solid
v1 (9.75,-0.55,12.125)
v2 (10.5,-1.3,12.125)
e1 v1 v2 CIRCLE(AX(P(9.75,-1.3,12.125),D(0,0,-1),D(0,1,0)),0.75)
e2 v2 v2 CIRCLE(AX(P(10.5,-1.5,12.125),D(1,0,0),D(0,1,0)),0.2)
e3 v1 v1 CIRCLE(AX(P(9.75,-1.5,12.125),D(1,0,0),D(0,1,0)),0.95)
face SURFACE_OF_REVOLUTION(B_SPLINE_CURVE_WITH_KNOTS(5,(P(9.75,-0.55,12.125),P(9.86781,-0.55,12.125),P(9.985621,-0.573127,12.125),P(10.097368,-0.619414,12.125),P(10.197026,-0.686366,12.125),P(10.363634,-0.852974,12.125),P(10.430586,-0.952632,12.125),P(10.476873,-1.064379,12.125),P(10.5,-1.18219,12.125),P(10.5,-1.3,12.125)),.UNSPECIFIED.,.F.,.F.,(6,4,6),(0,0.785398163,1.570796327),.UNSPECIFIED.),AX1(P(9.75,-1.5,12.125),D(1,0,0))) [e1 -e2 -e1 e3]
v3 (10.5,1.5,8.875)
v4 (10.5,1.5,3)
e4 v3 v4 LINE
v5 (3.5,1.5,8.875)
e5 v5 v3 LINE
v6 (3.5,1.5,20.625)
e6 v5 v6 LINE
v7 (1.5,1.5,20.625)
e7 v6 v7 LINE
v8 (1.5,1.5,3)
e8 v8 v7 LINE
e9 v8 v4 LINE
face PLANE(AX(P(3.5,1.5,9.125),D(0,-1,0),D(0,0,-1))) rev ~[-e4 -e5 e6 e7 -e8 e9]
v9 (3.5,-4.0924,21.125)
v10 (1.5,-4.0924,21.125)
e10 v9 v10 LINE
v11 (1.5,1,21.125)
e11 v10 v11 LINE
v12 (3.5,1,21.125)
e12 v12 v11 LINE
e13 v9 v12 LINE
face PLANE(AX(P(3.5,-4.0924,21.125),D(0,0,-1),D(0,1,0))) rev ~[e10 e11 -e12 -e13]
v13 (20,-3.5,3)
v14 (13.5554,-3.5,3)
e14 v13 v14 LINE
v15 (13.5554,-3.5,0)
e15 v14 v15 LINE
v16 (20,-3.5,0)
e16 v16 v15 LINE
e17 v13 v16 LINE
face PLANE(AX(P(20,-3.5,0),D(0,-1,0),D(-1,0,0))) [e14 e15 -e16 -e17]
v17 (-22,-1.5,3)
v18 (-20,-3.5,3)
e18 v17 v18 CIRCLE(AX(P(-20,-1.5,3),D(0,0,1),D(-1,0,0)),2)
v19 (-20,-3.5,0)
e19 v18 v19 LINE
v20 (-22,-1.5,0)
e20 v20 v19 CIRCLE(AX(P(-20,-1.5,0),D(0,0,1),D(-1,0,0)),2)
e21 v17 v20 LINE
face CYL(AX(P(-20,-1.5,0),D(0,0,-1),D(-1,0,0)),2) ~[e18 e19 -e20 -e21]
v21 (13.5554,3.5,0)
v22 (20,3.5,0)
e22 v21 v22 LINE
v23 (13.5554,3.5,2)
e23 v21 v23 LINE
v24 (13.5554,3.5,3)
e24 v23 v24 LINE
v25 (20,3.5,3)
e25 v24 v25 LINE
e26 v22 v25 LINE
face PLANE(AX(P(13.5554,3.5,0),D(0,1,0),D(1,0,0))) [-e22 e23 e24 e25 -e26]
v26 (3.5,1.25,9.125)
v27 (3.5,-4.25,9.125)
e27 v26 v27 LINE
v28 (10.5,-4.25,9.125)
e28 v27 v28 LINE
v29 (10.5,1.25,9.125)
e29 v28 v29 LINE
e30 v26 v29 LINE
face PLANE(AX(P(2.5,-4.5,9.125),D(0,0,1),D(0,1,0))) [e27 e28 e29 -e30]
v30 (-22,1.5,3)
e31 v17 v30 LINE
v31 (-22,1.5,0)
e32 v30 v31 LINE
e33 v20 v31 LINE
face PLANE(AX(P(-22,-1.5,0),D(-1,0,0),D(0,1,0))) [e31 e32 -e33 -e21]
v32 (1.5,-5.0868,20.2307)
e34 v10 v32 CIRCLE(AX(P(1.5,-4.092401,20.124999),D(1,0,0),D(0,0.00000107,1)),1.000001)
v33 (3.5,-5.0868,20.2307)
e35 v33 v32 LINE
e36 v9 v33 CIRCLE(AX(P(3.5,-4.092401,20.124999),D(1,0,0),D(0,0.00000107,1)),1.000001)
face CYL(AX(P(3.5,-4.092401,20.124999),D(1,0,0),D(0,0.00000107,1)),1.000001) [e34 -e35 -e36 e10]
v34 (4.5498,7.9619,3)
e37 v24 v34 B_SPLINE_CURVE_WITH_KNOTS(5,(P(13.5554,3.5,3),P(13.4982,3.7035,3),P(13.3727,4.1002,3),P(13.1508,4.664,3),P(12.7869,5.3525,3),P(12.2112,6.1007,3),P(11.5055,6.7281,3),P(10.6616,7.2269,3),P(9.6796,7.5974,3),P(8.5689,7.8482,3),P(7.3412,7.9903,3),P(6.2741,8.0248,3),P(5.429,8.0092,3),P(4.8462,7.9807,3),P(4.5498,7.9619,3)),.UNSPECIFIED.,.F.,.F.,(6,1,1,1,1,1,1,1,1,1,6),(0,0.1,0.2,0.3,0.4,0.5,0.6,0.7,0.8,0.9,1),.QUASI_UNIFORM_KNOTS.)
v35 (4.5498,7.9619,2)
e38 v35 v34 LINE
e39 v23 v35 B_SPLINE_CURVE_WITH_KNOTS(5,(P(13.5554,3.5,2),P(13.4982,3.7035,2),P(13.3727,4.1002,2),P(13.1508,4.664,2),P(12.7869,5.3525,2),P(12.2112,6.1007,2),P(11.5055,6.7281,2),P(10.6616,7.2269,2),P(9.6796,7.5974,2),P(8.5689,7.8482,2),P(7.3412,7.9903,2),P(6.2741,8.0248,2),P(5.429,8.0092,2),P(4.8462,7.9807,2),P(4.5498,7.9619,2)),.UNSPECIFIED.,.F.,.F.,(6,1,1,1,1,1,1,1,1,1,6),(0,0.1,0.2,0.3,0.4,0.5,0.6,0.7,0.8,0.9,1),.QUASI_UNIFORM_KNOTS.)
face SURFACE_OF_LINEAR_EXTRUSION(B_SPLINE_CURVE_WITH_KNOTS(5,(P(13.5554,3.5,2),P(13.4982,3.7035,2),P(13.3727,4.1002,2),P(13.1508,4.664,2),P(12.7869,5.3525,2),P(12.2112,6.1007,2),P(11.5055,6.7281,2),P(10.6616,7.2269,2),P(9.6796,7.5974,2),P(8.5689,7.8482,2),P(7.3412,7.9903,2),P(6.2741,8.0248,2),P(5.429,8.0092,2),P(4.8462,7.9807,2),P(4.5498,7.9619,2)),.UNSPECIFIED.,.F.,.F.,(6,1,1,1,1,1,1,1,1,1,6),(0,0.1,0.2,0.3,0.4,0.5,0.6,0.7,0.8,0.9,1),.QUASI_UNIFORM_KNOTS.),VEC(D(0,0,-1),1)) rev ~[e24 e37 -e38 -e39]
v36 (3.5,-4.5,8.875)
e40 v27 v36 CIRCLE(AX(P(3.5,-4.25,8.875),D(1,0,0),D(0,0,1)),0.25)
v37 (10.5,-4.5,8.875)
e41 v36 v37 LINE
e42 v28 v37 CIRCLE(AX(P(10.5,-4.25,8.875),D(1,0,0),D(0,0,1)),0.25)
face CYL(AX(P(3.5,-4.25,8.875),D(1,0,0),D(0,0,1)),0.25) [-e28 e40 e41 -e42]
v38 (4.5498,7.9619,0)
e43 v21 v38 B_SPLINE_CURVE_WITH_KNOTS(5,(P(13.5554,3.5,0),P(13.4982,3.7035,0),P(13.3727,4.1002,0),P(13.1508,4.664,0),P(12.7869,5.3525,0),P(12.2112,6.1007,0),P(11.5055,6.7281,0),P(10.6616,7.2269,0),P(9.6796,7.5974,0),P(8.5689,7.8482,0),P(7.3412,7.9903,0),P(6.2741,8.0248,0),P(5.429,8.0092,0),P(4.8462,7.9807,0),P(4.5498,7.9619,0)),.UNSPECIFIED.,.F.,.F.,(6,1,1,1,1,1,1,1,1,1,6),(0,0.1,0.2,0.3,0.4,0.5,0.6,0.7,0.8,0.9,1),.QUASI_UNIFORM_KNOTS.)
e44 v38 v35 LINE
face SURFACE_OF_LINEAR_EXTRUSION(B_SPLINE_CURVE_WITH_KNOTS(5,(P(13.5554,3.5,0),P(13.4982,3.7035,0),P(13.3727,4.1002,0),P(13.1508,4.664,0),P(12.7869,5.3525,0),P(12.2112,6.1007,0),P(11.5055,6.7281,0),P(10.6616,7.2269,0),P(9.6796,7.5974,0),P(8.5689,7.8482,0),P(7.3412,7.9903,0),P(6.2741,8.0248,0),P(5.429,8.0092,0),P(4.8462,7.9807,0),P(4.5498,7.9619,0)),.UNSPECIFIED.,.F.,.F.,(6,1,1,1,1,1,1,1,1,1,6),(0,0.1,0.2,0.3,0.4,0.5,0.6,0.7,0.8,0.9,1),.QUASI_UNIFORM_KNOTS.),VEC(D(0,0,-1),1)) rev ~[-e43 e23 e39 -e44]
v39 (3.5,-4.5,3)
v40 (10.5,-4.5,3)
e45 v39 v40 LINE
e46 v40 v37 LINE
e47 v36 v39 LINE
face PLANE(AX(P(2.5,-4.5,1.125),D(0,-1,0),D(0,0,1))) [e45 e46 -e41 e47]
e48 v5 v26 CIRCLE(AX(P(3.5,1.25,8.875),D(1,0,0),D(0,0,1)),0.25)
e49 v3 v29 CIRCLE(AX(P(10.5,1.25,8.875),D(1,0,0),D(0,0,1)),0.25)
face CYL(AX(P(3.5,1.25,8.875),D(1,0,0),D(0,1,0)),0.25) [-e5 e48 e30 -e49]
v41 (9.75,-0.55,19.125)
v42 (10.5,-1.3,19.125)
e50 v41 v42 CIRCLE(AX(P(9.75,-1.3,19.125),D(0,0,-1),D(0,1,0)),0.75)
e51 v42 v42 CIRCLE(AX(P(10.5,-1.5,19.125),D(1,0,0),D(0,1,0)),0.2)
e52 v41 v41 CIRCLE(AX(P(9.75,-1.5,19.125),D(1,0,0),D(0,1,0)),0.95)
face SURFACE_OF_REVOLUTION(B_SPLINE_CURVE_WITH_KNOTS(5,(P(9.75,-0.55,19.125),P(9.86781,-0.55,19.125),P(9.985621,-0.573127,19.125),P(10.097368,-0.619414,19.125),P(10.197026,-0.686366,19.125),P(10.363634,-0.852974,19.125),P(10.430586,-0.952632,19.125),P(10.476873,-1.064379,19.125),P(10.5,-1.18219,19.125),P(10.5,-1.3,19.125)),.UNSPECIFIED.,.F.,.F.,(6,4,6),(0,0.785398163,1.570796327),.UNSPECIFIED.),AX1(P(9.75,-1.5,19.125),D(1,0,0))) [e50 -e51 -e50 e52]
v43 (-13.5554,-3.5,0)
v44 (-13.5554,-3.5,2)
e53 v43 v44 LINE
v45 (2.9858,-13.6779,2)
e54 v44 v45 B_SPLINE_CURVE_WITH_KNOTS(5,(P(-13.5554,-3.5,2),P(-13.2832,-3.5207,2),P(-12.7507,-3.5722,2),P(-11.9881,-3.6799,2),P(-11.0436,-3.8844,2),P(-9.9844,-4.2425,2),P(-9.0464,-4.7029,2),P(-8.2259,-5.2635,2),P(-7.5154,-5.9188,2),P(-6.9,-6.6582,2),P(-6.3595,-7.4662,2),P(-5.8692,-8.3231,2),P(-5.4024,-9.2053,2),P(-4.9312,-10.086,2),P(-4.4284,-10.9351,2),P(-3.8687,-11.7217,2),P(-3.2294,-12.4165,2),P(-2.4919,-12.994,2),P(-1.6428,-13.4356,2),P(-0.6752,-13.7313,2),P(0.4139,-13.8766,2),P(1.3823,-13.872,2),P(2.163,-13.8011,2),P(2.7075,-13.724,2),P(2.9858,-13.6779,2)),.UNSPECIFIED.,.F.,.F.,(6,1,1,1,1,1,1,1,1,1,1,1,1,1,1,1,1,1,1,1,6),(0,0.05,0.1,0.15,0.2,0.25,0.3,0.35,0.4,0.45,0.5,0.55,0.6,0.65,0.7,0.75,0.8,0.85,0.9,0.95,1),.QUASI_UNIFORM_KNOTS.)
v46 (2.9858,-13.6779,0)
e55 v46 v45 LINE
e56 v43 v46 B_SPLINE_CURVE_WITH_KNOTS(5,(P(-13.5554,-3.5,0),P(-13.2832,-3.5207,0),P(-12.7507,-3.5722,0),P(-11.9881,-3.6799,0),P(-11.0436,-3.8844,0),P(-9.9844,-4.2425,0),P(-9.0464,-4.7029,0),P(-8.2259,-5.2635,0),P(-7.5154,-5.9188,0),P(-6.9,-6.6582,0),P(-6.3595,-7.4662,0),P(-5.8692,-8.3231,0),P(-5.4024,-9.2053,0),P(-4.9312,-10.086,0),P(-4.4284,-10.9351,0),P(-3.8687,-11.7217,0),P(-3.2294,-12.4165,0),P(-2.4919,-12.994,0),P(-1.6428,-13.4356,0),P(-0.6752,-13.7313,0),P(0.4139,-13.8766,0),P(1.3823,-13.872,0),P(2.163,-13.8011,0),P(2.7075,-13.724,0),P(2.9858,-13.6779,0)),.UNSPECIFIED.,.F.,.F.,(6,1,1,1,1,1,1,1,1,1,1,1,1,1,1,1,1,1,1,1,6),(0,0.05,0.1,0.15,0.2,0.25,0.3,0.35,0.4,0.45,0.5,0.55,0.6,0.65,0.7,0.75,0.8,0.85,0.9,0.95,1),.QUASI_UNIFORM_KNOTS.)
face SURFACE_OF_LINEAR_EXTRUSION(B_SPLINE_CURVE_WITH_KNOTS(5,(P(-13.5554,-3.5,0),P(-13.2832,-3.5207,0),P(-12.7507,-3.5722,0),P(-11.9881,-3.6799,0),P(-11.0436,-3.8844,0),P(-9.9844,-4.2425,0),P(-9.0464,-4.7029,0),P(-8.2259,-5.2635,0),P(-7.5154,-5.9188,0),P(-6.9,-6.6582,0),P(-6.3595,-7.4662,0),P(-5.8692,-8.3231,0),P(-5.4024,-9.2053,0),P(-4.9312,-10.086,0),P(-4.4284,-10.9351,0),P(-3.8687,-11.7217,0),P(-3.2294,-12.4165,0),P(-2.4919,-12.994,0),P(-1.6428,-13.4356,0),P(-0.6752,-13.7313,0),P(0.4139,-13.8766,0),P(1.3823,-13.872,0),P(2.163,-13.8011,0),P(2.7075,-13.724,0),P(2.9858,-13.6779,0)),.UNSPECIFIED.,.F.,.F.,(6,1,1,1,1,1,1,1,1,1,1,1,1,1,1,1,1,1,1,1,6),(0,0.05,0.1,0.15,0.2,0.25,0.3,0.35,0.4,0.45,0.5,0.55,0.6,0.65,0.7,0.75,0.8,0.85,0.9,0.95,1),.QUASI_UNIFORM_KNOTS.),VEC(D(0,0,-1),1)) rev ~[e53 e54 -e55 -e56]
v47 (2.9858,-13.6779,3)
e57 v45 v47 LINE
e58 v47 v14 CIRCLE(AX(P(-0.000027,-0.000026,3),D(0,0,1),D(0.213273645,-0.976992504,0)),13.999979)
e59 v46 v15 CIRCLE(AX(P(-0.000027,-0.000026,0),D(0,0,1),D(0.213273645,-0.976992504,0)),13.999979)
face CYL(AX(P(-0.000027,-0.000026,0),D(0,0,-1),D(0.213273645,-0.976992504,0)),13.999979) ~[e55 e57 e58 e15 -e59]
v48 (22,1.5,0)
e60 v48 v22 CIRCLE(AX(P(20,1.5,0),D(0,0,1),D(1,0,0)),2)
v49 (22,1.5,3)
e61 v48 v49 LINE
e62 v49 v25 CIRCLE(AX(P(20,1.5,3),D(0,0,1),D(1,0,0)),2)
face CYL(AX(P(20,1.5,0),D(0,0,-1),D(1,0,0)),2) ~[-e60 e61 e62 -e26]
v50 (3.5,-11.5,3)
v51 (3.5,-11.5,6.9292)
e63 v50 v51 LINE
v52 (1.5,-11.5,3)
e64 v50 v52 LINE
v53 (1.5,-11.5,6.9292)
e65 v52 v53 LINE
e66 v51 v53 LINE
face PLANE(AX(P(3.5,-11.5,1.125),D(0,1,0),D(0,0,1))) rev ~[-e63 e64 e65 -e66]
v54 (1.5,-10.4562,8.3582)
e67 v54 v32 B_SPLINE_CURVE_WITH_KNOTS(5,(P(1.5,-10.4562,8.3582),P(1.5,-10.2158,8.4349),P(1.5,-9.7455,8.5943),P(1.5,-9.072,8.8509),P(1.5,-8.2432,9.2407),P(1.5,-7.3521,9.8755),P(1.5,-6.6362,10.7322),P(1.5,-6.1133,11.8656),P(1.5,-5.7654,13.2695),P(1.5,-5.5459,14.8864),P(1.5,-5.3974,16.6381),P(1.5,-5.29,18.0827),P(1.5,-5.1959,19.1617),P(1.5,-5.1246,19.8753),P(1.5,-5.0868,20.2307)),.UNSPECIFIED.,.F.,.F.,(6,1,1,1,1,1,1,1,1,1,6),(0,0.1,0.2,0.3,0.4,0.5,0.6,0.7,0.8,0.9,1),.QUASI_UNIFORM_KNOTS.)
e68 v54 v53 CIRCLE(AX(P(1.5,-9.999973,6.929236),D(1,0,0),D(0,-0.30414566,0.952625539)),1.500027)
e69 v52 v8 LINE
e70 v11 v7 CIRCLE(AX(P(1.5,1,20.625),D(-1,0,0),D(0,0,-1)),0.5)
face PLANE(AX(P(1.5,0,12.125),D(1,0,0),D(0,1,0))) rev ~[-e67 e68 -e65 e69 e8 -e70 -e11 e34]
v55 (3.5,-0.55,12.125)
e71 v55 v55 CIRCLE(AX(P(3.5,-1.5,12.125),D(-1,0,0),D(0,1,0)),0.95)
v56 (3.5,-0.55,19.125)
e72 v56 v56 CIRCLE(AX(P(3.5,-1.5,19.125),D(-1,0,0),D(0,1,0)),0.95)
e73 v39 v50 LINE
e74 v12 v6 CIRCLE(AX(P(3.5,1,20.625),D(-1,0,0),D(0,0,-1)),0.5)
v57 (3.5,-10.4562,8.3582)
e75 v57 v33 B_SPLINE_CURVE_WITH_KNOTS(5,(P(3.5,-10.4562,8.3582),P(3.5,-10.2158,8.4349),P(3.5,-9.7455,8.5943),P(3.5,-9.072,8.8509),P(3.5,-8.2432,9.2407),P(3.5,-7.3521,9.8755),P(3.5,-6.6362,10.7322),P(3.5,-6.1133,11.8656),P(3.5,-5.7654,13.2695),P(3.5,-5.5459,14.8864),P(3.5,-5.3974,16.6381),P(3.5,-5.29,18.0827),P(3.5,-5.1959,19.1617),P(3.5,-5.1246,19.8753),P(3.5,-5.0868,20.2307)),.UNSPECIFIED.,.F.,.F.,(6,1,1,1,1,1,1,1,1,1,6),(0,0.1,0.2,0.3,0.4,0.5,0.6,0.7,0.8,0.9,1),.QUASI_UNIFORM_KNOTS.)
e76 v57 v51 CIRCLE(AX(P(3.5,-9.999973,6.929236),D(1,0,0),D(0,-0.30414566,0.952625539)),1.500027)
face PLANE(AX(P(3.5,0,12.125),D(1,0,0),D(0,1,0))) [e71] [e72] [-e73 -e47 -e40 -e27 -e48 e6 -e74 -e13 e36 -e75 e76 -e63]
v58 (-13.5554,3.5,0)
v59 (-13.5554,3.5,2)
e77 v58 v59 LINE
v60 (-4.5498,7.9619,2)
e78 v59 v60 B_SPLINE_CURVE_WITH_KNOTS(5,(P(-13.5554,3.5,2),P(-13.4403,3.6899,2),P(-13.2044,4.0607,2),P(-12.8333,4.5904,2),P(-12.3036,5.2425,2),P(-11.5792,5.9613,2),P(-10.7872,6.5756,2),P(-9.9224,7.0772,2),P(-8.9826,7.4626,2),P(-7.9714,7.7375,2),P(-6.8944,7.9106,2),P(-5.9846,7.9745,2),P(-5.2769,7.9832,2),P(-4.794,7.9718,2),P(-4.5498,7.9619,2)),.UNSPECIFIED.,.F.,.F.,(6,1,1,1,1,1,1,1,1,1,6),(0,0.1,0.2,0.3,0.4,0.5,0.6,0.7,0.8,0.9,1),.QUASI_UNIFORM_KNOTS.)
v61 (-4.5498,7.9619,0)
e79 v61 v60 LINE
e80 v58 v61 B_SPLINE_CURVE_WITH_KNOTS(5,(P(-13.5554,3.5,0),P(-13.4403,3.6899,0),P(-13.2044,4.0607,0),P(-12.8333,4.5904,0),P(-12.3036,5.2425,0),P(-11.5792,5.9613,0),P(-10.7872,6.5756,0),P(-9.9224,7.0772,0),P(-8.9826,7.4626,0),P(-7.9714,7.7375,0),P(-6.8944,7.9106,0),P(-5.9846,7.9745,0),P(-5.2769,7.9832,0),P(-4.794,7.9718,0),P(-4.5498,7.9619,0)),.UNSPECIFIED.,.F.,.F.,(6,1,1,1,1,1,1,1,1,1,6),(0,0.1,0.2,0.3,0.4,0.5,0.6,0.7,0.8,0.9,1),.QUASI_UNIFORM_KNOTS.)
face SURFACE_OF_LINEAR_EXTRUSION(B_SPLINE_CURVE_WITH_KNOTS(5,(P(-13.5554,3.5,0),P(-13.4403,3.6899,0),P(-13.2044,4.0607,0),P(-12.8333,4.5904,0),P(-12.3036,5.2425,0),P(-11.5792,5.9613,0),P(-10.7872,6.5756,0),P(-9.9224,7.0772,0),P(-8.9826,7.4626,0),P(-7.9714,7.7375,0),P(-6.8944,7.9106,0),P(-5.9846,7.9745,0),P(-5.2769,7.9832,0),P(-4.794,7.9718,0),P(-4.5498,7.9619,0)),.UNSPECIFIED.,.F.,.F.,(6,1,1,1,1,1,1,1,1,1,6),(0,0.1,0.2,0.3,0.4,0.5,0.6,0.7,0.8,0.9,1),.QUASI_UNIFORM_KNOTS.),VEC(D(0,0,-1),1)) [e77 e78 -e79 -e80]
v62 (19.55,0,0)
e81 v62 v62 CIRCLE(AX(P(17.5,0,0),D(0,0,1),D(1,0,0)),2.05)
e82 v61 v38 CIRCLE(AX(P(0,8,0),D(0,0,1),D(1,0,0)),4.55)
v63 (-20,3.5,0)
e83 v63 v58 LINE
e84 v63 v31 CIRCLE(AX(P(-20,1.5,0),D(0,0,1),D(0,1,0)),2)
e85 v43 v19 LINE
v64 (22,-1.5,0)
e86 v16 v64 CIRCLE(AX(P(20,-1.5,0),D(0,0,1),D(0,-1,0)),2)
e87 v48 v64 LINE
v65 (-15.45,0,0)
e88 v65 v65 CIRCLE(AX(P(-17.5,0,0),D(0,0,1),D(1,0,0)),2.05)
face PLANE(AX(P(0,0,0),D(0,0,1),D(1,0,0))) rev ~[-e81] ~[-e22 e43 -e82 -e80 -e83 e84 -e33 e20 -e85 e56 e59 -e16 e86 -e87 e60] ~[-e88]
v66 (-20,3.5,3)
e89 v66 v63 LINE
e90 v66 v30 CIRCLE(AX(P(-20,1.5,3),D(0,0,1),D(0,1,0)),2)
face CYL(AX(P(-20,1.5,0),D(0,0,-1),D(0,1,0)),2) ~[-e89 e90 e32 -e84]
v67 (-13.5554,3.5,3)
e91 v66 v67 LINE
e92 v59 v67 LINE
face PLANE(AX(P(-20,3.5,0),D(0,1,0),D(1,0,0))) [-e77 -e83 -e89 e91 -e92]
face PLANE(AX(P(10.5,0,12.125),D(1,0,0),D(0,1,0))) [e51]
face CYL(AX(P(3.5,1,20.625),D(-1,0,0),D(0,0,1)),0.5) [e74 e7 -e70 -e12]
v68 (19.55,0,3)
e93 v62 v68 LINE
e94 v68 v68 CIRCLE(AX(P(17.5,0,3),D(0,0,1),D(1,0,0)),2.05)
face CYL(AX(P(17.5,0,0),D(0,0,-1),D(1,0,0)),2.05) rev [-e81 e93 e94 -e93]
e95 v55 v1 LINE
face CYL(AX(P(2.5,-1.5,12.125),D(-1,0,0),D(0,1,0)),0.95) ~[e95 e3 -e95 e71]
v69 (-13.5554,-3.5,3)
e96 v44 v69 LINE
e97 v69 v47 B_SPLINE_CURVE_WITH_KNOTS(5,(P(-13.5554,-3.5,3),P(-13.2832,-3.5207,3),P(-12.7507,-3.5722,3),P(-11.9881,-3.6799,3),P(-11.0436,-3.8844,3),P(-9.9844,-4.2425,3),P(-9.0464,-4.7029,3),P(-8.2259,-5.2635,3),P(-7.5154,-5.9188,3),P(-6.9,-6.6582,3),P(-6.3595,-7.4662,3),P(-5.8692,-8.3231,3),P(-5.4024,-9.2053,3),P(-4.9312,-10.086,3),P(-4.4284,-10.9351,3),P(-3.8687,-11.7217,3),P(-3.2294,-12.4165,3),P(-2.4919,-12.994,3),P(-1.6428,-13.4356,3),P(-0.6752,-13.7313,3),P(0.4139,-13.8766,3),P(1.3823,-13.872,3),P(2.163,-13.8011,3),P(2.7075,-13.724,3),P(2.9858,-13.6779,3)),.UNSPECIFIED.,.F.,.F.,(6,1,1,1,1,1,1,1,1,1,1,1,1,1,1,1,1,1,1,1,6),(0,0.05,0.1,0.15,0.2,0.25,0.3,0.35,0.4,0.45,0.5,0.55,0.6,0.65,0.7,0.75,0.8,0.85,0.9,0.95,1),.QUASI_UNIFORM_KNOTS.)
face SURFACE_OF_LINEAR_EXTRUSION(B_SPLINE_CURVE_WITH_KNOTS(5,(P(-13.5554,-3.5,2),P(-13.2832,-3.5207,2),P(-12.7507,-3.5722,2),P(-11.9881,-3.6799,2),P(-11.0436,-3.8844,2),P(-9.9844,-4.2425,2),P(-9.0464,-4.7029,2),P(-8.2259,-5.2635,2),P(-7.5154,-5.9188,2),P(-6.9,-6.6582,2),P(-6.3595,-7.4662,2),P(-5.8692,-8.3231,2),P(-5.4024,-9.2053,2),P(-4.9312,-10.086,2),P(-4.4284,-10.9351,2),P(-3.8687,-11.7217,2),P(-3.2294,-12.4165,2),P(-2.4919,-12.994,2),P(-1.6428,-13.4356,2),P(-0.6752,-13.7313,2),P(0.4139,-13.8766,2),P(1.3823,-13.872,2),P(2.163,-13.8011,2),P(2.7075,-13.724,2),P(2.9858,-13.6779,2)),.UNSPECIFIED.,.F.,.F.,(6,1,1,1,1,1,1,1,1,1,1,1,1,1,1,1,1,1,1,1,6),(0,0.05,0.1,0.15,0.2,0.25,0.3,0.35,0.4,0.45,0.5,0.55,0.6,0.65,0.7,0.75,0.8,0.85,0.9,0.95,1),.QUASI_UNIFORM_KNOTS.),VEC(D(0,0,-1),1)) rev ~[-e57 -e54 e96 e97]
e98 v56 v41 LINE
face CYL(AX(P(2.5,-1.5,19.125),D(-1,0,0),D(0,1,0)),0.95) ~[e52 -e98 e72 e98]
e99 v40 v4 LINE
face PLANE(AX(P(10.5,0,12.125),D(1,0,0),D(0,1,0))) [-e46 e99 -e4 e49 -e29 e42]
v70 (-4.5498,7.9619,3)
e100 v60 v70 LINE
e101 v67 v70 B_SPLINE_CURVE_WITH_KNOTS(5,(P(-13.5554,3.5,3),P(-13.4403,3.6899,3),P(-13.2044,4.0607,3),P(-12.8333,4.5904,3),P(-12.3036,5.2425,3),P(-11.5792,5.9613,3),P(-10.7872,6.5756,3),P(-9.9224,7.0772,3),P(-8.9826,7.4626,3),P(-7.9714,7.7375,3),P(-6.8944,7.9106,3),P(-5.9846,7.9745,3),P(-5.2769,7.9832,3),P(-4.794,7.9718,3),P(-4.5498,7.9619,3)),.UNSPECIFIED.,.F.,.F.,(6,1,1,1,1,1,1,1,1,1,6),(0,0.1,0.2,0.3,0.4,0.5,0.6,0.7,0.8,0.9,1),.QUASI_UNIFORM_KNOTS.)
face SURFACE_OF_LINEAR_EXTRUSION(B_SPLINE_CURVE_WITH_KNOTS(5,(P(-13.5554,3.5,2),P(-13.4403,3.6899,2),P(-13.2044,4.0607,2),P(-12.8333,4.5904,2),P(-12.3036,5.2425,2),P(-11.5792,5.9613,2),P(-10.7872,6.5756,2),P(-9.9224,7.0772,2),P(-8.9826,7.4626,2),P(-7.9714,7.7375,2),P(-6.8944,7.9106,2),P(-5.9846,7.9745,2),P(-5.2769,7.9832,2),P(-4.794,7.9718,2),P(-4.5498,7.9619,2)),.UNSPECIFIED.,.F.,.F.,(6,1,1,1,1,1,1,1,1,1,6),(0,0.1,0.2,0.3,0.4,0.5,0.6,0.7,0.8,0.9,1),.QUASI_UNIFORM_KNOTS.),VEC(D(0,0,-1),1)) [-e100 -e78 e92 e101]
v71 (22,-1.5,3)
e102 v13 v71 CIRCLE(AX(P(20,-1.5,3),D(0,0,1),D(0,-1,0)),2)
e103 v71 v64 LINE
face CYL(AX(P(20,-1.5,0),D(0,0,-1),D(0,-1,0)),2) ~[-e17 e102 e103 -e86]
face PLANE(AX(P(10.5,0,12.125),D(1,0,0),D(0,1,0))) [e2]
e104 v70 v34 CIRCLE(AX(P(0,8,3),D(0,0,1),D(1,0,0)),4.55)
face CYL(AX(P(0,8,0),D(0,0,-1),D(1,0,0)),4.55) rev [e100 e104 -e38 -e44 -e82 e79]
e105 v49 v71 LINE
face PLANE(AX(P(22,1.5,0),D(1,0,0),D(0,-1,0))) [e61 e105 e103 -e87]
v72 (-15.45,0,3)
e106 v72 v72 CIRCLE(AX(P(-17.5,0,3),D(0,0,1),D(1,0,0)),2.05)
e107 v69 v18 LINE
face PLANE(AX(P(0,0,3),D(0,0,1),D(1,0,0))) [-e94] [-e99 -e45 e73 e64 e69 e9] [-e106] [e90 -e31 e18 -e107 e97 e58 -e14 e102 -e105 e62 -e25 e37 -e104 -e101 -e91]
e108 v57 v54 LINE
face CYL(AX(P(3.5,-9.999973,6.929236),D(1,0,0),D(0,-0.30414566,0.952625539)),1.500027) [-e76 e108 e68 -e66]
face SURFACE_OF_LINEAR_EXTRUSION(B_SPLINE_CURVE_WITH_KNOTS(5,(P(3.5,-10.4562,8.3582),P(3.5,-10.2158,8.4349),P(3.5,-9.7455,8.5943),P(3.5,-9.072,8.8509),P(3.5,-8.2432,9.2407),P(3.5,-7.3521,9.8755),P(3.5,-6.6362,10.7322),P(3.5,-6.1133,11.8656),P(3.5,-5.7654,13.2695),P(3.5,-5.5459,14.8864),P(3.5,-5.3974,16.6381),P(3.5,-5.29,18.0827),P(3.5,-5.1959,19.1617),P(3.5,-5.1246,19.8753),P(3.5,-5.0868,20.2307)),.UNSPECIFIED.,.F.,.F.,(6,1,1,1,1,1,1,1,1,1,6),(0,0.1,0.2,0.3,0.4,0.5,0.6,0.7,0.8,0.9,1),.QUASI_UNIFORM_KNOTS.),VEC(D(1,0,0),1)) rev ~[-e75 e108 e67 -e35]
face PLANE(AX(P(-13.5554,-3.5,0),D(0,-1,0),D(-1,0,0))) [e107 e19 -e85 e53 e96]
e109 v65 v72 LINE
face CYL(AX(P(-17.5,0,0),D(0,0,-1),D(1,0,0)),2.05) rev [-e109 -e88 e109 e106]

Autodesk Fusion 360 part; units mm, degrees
sketch "Sketch1" plane through (0, 0, 0) normal (0, 0, 1) x (1, 0, 0)
  line L0 (22, 1.5) -> (22, -1.5)
  line L1 (-22, -1.5) -> (-22, 1.5)
  circle A0 centre (-17.5, 0) radius 2.05
  circle A1 centre (17.5, 0) radius 2.05
  line L2 (-20, 3.5) -> (-13.5554, 3.5)
  line L3 (13.5554, 3.5) -> (20, 3.5)
  line L4 (20, -3.5) -> (13.5554, -3.5)
  line L5 (-13.5554, -3.5) -> (-20, -3.5)
  arc A2 (2.9858, -13.6779) -> (13.5554, -3.5) centre (0, 0) ccw
  arc A3 (22, 1.5) -> (20, 3.5) centre (20, 1.5) ccw
  arc A4 (20, -3.5) -> (22, -1.5) centre (20, -1.5) ccw
  arc A5 (-20, 3.5) -> (-22, 1.5) centre (-20, 1.5) ccw
  arc A6 (-22, -1.5) -> (-20, -3.5) centre (-20, -1.5) ccw
  circle A7 centre (0, 8) radius 4.55
  circle A8 centre (0, 8) radius 2.5
  spline S0 degree 5 poles (-13.5554, 3.5) (-13.4403, 3.6899) (-13.2044, 4.0607) (-12.8333, 4.5904) (-12.3036, 5.2425) (-11.5792, 5.9613) (-10.7872, 6.5756) (-9.9224, 7.0772) (-8.9826, 7.4626) (-7.9714, 7.7375) (-6.8944, 7.9106) (-5.9846, 7.9745) (-5.2769, 7.9832) (-4.794, 7.9718) (-4.5498, 7.9619) knots 0 0 0 0 0 0 0.1 0.2 0.3 0.4 0.5 0.6 0.7 0.8 0.9 1 1 1 1 1 1
  spline S1 degree 5 poles (13.5554, 3.5) (13.4982, 3.7035) (13.3727, 4.1002) (13.1508, 4.664) (12.7869, 5.3525) (12.2112, 6.1007) (11.5055, 6.7281) (10.6616, 7.2269) (9.6796, 7.5974) (8.5689, 7.8482) (7.3412, 7.9903) (6.2741, 8.0248) (5.429, 8.0092) (4.8462, 7.9807) (4.5498, 7.9619) knots 0 0 0 0 0 0 0.1 0.2 0.3 0.4 0.5 0.6 0.7 0.8 0.9 1 1 1 1 1 1
  spline S2 degree 5 poles (-13.5554, -3.5) (-13.2832, -3.5207) (-12.7507, -3.5722) (-11.9881, -3.6799) (-11.0436, -3.8844) (-9.9844, -4.2425) (-9.0464, -4.7029) (-8.2259, -5.2635) (-7.5154, -5.9188) (-6.9, -6.6582) (-6.3595, -7.4662) (-5.8692, -8.3231) (-5.4024, -9.2053) (-4.9312, -10.086) (-4.4284, -10.9351) (-3.8687, -11.7217) (-3.2294, -12.4165) (-2.4919, -12.994) (-1.6428, -13.4356) (-0.6752, -13.7313) (0.4139, -13.8766) (1.3823, -13.872) (2.163, -13.8011) (2.7075, -13.724) (2.9858, -13.6779) knots 0 0 0 0 0 0 0.05 0.1 0.15 0.2 0.25 0.3 0.35 0.4 0.45 0.5 0.55 0.6 0.65 0.7 0.75 0.8 0.85 0.9 0.95 1 1 1 1 1 1
  point P0 (-22, 3.5)
  point P1 (22, 3.5)
  point P2 (-22, -3.5)
  point P3 (-10, 7)
  point P4 (11, 7)
  point P5 (-8.024, -5.4772)
  point P6 (-5.3692, -9.2647)
  point P7 (-2.6437, -12.8398)
  dimension "d1" = 44
  dimension "d2" = 28
  dimension "d3" = 7
  dimension "d4" = 3.5
  dimension "d5" = 22
  dimension "d6" = 4.1
  dimension "d7" = 17.5
  dimension "d8" = 4.1
  dimension "d9" = 17.5
  dimension "d10" = 2
  dimension "d11" = 9.1
  dimension "d12" = 8
  dimension "d38" = 5
extrude "Extrude1" add sketch "Sketch1" along normal blind 2 contours L0 L1 L2 L3 L4 L5 A2 A3 A4 A5 A6 A7 S0 S1 S2
ref_plane "WorkPlane2" through (2.5, 0, 12.125) normal (1, 0, 0) x (0, 0, 1)
sketch "Sketch3" plane through (2.5, 0, 12.125) normal (1, 0, 0) x (0, 1, 0)
  line L0 (-4.0924, 9) -> (1.5, 9)
  line L1 (1.5, 9) -> (1.5, -11)
  line L2 (1.5, -11) -> (-11.5, -11)
  line L3 (-11.5, -11) -> (-11.5, -5.1958)
  circle A0 centre (-1.5, 7) radius 0.95
  circle A1 centre (-1.5, 0) radius 0.95
  line L4 (-4.5, -3) -> (1.5, -3)
  line L5 (1.5, -3) -> (1.5, -11)
  line L6 (1.5, -11) -> (-4.5, -11)
  line L7 (-4.5, -11) -> (-4.5, -3)
  spline S0 degree 5 poles (-10.4562, -3.7668) (-10.2158, -3.6901) (-9.7455, -3.5307) (-9.072, -3.2741) (-8.2432, -2.8843) (-7.3521, -2.2495) (-6.6362, -1.3928) (-6.1133, -0.2594) (-5.7654, 1.1445) (-5.5459, 2.7614) (-5.3974, 4.5131) (-5.29, 5.9577) (-5.1959, 7.0367) (-5.1246, 7.7503) (-5.0868, 8.1057) knots 0 0 0 0 0 0 0.1 0.2 0.3 0.4 0.5 0.6 0.7 0.8 0.9 1 1 1 1 1 1
  arc A2 (-4.0924, 9) -> (-5.0868, 8.1057) centre (-4.0924, 8) ccw
  arc A3 (-10.4562, -3.7668) -> (-11.5, -5.1958) centre (-10, -5.1958) ccw
  point P0 (-6.5, -1)
  dimension "d21" = 9
  dimension "d23" = 1.5
  dimension "d32" = 1.9
  dimension "d33" = 1.9
  dimension "d34" = 7
  dimension "d35" = 3
  dimension "d36" = 8
  dimension "d37" = 6
  dimension "d47" = 1
  dimension "d48" = 1.5
  dimension "d73" = 5.5924
  dimension "d74" = 13
  dimension "d75" = 10
  dimension "d88" = 2
  dimension "d89" = 3
extrude "Extrude12" add 1 faces at (-0.4768, -5.597, 2) along direction (0, 0, 1) blind 1
extrude "Extrude5" add sketch "Sketch3" along normal blind -1 and the other way blind -1 contours L0 L1 L2 L3 L4 L7 S0 A2 A3 | L1 L2 L4 L5 L6 L7 | A0 | A1
extrude "Extrude6" add sketch "Sketch3" along normal blind 8 contours L1 L2 L4 L5 L6 L7 | A0 | A1
fillet "Fillet1" radius 0.75 1 edges at (10.5, -2.3857, 11.7815)
fillet "Fillet2" radius 0.75 1 edges at (10.5, -2.3857, 18.7815)
fillet "Fillet4" radius 0.5 1 edges at (2.5, 1.5, 21.125)
fillet "Fillet3" radius 0.25 2 edges at (7, -4.5, 9.125) (7, 1.5, 9.125)
